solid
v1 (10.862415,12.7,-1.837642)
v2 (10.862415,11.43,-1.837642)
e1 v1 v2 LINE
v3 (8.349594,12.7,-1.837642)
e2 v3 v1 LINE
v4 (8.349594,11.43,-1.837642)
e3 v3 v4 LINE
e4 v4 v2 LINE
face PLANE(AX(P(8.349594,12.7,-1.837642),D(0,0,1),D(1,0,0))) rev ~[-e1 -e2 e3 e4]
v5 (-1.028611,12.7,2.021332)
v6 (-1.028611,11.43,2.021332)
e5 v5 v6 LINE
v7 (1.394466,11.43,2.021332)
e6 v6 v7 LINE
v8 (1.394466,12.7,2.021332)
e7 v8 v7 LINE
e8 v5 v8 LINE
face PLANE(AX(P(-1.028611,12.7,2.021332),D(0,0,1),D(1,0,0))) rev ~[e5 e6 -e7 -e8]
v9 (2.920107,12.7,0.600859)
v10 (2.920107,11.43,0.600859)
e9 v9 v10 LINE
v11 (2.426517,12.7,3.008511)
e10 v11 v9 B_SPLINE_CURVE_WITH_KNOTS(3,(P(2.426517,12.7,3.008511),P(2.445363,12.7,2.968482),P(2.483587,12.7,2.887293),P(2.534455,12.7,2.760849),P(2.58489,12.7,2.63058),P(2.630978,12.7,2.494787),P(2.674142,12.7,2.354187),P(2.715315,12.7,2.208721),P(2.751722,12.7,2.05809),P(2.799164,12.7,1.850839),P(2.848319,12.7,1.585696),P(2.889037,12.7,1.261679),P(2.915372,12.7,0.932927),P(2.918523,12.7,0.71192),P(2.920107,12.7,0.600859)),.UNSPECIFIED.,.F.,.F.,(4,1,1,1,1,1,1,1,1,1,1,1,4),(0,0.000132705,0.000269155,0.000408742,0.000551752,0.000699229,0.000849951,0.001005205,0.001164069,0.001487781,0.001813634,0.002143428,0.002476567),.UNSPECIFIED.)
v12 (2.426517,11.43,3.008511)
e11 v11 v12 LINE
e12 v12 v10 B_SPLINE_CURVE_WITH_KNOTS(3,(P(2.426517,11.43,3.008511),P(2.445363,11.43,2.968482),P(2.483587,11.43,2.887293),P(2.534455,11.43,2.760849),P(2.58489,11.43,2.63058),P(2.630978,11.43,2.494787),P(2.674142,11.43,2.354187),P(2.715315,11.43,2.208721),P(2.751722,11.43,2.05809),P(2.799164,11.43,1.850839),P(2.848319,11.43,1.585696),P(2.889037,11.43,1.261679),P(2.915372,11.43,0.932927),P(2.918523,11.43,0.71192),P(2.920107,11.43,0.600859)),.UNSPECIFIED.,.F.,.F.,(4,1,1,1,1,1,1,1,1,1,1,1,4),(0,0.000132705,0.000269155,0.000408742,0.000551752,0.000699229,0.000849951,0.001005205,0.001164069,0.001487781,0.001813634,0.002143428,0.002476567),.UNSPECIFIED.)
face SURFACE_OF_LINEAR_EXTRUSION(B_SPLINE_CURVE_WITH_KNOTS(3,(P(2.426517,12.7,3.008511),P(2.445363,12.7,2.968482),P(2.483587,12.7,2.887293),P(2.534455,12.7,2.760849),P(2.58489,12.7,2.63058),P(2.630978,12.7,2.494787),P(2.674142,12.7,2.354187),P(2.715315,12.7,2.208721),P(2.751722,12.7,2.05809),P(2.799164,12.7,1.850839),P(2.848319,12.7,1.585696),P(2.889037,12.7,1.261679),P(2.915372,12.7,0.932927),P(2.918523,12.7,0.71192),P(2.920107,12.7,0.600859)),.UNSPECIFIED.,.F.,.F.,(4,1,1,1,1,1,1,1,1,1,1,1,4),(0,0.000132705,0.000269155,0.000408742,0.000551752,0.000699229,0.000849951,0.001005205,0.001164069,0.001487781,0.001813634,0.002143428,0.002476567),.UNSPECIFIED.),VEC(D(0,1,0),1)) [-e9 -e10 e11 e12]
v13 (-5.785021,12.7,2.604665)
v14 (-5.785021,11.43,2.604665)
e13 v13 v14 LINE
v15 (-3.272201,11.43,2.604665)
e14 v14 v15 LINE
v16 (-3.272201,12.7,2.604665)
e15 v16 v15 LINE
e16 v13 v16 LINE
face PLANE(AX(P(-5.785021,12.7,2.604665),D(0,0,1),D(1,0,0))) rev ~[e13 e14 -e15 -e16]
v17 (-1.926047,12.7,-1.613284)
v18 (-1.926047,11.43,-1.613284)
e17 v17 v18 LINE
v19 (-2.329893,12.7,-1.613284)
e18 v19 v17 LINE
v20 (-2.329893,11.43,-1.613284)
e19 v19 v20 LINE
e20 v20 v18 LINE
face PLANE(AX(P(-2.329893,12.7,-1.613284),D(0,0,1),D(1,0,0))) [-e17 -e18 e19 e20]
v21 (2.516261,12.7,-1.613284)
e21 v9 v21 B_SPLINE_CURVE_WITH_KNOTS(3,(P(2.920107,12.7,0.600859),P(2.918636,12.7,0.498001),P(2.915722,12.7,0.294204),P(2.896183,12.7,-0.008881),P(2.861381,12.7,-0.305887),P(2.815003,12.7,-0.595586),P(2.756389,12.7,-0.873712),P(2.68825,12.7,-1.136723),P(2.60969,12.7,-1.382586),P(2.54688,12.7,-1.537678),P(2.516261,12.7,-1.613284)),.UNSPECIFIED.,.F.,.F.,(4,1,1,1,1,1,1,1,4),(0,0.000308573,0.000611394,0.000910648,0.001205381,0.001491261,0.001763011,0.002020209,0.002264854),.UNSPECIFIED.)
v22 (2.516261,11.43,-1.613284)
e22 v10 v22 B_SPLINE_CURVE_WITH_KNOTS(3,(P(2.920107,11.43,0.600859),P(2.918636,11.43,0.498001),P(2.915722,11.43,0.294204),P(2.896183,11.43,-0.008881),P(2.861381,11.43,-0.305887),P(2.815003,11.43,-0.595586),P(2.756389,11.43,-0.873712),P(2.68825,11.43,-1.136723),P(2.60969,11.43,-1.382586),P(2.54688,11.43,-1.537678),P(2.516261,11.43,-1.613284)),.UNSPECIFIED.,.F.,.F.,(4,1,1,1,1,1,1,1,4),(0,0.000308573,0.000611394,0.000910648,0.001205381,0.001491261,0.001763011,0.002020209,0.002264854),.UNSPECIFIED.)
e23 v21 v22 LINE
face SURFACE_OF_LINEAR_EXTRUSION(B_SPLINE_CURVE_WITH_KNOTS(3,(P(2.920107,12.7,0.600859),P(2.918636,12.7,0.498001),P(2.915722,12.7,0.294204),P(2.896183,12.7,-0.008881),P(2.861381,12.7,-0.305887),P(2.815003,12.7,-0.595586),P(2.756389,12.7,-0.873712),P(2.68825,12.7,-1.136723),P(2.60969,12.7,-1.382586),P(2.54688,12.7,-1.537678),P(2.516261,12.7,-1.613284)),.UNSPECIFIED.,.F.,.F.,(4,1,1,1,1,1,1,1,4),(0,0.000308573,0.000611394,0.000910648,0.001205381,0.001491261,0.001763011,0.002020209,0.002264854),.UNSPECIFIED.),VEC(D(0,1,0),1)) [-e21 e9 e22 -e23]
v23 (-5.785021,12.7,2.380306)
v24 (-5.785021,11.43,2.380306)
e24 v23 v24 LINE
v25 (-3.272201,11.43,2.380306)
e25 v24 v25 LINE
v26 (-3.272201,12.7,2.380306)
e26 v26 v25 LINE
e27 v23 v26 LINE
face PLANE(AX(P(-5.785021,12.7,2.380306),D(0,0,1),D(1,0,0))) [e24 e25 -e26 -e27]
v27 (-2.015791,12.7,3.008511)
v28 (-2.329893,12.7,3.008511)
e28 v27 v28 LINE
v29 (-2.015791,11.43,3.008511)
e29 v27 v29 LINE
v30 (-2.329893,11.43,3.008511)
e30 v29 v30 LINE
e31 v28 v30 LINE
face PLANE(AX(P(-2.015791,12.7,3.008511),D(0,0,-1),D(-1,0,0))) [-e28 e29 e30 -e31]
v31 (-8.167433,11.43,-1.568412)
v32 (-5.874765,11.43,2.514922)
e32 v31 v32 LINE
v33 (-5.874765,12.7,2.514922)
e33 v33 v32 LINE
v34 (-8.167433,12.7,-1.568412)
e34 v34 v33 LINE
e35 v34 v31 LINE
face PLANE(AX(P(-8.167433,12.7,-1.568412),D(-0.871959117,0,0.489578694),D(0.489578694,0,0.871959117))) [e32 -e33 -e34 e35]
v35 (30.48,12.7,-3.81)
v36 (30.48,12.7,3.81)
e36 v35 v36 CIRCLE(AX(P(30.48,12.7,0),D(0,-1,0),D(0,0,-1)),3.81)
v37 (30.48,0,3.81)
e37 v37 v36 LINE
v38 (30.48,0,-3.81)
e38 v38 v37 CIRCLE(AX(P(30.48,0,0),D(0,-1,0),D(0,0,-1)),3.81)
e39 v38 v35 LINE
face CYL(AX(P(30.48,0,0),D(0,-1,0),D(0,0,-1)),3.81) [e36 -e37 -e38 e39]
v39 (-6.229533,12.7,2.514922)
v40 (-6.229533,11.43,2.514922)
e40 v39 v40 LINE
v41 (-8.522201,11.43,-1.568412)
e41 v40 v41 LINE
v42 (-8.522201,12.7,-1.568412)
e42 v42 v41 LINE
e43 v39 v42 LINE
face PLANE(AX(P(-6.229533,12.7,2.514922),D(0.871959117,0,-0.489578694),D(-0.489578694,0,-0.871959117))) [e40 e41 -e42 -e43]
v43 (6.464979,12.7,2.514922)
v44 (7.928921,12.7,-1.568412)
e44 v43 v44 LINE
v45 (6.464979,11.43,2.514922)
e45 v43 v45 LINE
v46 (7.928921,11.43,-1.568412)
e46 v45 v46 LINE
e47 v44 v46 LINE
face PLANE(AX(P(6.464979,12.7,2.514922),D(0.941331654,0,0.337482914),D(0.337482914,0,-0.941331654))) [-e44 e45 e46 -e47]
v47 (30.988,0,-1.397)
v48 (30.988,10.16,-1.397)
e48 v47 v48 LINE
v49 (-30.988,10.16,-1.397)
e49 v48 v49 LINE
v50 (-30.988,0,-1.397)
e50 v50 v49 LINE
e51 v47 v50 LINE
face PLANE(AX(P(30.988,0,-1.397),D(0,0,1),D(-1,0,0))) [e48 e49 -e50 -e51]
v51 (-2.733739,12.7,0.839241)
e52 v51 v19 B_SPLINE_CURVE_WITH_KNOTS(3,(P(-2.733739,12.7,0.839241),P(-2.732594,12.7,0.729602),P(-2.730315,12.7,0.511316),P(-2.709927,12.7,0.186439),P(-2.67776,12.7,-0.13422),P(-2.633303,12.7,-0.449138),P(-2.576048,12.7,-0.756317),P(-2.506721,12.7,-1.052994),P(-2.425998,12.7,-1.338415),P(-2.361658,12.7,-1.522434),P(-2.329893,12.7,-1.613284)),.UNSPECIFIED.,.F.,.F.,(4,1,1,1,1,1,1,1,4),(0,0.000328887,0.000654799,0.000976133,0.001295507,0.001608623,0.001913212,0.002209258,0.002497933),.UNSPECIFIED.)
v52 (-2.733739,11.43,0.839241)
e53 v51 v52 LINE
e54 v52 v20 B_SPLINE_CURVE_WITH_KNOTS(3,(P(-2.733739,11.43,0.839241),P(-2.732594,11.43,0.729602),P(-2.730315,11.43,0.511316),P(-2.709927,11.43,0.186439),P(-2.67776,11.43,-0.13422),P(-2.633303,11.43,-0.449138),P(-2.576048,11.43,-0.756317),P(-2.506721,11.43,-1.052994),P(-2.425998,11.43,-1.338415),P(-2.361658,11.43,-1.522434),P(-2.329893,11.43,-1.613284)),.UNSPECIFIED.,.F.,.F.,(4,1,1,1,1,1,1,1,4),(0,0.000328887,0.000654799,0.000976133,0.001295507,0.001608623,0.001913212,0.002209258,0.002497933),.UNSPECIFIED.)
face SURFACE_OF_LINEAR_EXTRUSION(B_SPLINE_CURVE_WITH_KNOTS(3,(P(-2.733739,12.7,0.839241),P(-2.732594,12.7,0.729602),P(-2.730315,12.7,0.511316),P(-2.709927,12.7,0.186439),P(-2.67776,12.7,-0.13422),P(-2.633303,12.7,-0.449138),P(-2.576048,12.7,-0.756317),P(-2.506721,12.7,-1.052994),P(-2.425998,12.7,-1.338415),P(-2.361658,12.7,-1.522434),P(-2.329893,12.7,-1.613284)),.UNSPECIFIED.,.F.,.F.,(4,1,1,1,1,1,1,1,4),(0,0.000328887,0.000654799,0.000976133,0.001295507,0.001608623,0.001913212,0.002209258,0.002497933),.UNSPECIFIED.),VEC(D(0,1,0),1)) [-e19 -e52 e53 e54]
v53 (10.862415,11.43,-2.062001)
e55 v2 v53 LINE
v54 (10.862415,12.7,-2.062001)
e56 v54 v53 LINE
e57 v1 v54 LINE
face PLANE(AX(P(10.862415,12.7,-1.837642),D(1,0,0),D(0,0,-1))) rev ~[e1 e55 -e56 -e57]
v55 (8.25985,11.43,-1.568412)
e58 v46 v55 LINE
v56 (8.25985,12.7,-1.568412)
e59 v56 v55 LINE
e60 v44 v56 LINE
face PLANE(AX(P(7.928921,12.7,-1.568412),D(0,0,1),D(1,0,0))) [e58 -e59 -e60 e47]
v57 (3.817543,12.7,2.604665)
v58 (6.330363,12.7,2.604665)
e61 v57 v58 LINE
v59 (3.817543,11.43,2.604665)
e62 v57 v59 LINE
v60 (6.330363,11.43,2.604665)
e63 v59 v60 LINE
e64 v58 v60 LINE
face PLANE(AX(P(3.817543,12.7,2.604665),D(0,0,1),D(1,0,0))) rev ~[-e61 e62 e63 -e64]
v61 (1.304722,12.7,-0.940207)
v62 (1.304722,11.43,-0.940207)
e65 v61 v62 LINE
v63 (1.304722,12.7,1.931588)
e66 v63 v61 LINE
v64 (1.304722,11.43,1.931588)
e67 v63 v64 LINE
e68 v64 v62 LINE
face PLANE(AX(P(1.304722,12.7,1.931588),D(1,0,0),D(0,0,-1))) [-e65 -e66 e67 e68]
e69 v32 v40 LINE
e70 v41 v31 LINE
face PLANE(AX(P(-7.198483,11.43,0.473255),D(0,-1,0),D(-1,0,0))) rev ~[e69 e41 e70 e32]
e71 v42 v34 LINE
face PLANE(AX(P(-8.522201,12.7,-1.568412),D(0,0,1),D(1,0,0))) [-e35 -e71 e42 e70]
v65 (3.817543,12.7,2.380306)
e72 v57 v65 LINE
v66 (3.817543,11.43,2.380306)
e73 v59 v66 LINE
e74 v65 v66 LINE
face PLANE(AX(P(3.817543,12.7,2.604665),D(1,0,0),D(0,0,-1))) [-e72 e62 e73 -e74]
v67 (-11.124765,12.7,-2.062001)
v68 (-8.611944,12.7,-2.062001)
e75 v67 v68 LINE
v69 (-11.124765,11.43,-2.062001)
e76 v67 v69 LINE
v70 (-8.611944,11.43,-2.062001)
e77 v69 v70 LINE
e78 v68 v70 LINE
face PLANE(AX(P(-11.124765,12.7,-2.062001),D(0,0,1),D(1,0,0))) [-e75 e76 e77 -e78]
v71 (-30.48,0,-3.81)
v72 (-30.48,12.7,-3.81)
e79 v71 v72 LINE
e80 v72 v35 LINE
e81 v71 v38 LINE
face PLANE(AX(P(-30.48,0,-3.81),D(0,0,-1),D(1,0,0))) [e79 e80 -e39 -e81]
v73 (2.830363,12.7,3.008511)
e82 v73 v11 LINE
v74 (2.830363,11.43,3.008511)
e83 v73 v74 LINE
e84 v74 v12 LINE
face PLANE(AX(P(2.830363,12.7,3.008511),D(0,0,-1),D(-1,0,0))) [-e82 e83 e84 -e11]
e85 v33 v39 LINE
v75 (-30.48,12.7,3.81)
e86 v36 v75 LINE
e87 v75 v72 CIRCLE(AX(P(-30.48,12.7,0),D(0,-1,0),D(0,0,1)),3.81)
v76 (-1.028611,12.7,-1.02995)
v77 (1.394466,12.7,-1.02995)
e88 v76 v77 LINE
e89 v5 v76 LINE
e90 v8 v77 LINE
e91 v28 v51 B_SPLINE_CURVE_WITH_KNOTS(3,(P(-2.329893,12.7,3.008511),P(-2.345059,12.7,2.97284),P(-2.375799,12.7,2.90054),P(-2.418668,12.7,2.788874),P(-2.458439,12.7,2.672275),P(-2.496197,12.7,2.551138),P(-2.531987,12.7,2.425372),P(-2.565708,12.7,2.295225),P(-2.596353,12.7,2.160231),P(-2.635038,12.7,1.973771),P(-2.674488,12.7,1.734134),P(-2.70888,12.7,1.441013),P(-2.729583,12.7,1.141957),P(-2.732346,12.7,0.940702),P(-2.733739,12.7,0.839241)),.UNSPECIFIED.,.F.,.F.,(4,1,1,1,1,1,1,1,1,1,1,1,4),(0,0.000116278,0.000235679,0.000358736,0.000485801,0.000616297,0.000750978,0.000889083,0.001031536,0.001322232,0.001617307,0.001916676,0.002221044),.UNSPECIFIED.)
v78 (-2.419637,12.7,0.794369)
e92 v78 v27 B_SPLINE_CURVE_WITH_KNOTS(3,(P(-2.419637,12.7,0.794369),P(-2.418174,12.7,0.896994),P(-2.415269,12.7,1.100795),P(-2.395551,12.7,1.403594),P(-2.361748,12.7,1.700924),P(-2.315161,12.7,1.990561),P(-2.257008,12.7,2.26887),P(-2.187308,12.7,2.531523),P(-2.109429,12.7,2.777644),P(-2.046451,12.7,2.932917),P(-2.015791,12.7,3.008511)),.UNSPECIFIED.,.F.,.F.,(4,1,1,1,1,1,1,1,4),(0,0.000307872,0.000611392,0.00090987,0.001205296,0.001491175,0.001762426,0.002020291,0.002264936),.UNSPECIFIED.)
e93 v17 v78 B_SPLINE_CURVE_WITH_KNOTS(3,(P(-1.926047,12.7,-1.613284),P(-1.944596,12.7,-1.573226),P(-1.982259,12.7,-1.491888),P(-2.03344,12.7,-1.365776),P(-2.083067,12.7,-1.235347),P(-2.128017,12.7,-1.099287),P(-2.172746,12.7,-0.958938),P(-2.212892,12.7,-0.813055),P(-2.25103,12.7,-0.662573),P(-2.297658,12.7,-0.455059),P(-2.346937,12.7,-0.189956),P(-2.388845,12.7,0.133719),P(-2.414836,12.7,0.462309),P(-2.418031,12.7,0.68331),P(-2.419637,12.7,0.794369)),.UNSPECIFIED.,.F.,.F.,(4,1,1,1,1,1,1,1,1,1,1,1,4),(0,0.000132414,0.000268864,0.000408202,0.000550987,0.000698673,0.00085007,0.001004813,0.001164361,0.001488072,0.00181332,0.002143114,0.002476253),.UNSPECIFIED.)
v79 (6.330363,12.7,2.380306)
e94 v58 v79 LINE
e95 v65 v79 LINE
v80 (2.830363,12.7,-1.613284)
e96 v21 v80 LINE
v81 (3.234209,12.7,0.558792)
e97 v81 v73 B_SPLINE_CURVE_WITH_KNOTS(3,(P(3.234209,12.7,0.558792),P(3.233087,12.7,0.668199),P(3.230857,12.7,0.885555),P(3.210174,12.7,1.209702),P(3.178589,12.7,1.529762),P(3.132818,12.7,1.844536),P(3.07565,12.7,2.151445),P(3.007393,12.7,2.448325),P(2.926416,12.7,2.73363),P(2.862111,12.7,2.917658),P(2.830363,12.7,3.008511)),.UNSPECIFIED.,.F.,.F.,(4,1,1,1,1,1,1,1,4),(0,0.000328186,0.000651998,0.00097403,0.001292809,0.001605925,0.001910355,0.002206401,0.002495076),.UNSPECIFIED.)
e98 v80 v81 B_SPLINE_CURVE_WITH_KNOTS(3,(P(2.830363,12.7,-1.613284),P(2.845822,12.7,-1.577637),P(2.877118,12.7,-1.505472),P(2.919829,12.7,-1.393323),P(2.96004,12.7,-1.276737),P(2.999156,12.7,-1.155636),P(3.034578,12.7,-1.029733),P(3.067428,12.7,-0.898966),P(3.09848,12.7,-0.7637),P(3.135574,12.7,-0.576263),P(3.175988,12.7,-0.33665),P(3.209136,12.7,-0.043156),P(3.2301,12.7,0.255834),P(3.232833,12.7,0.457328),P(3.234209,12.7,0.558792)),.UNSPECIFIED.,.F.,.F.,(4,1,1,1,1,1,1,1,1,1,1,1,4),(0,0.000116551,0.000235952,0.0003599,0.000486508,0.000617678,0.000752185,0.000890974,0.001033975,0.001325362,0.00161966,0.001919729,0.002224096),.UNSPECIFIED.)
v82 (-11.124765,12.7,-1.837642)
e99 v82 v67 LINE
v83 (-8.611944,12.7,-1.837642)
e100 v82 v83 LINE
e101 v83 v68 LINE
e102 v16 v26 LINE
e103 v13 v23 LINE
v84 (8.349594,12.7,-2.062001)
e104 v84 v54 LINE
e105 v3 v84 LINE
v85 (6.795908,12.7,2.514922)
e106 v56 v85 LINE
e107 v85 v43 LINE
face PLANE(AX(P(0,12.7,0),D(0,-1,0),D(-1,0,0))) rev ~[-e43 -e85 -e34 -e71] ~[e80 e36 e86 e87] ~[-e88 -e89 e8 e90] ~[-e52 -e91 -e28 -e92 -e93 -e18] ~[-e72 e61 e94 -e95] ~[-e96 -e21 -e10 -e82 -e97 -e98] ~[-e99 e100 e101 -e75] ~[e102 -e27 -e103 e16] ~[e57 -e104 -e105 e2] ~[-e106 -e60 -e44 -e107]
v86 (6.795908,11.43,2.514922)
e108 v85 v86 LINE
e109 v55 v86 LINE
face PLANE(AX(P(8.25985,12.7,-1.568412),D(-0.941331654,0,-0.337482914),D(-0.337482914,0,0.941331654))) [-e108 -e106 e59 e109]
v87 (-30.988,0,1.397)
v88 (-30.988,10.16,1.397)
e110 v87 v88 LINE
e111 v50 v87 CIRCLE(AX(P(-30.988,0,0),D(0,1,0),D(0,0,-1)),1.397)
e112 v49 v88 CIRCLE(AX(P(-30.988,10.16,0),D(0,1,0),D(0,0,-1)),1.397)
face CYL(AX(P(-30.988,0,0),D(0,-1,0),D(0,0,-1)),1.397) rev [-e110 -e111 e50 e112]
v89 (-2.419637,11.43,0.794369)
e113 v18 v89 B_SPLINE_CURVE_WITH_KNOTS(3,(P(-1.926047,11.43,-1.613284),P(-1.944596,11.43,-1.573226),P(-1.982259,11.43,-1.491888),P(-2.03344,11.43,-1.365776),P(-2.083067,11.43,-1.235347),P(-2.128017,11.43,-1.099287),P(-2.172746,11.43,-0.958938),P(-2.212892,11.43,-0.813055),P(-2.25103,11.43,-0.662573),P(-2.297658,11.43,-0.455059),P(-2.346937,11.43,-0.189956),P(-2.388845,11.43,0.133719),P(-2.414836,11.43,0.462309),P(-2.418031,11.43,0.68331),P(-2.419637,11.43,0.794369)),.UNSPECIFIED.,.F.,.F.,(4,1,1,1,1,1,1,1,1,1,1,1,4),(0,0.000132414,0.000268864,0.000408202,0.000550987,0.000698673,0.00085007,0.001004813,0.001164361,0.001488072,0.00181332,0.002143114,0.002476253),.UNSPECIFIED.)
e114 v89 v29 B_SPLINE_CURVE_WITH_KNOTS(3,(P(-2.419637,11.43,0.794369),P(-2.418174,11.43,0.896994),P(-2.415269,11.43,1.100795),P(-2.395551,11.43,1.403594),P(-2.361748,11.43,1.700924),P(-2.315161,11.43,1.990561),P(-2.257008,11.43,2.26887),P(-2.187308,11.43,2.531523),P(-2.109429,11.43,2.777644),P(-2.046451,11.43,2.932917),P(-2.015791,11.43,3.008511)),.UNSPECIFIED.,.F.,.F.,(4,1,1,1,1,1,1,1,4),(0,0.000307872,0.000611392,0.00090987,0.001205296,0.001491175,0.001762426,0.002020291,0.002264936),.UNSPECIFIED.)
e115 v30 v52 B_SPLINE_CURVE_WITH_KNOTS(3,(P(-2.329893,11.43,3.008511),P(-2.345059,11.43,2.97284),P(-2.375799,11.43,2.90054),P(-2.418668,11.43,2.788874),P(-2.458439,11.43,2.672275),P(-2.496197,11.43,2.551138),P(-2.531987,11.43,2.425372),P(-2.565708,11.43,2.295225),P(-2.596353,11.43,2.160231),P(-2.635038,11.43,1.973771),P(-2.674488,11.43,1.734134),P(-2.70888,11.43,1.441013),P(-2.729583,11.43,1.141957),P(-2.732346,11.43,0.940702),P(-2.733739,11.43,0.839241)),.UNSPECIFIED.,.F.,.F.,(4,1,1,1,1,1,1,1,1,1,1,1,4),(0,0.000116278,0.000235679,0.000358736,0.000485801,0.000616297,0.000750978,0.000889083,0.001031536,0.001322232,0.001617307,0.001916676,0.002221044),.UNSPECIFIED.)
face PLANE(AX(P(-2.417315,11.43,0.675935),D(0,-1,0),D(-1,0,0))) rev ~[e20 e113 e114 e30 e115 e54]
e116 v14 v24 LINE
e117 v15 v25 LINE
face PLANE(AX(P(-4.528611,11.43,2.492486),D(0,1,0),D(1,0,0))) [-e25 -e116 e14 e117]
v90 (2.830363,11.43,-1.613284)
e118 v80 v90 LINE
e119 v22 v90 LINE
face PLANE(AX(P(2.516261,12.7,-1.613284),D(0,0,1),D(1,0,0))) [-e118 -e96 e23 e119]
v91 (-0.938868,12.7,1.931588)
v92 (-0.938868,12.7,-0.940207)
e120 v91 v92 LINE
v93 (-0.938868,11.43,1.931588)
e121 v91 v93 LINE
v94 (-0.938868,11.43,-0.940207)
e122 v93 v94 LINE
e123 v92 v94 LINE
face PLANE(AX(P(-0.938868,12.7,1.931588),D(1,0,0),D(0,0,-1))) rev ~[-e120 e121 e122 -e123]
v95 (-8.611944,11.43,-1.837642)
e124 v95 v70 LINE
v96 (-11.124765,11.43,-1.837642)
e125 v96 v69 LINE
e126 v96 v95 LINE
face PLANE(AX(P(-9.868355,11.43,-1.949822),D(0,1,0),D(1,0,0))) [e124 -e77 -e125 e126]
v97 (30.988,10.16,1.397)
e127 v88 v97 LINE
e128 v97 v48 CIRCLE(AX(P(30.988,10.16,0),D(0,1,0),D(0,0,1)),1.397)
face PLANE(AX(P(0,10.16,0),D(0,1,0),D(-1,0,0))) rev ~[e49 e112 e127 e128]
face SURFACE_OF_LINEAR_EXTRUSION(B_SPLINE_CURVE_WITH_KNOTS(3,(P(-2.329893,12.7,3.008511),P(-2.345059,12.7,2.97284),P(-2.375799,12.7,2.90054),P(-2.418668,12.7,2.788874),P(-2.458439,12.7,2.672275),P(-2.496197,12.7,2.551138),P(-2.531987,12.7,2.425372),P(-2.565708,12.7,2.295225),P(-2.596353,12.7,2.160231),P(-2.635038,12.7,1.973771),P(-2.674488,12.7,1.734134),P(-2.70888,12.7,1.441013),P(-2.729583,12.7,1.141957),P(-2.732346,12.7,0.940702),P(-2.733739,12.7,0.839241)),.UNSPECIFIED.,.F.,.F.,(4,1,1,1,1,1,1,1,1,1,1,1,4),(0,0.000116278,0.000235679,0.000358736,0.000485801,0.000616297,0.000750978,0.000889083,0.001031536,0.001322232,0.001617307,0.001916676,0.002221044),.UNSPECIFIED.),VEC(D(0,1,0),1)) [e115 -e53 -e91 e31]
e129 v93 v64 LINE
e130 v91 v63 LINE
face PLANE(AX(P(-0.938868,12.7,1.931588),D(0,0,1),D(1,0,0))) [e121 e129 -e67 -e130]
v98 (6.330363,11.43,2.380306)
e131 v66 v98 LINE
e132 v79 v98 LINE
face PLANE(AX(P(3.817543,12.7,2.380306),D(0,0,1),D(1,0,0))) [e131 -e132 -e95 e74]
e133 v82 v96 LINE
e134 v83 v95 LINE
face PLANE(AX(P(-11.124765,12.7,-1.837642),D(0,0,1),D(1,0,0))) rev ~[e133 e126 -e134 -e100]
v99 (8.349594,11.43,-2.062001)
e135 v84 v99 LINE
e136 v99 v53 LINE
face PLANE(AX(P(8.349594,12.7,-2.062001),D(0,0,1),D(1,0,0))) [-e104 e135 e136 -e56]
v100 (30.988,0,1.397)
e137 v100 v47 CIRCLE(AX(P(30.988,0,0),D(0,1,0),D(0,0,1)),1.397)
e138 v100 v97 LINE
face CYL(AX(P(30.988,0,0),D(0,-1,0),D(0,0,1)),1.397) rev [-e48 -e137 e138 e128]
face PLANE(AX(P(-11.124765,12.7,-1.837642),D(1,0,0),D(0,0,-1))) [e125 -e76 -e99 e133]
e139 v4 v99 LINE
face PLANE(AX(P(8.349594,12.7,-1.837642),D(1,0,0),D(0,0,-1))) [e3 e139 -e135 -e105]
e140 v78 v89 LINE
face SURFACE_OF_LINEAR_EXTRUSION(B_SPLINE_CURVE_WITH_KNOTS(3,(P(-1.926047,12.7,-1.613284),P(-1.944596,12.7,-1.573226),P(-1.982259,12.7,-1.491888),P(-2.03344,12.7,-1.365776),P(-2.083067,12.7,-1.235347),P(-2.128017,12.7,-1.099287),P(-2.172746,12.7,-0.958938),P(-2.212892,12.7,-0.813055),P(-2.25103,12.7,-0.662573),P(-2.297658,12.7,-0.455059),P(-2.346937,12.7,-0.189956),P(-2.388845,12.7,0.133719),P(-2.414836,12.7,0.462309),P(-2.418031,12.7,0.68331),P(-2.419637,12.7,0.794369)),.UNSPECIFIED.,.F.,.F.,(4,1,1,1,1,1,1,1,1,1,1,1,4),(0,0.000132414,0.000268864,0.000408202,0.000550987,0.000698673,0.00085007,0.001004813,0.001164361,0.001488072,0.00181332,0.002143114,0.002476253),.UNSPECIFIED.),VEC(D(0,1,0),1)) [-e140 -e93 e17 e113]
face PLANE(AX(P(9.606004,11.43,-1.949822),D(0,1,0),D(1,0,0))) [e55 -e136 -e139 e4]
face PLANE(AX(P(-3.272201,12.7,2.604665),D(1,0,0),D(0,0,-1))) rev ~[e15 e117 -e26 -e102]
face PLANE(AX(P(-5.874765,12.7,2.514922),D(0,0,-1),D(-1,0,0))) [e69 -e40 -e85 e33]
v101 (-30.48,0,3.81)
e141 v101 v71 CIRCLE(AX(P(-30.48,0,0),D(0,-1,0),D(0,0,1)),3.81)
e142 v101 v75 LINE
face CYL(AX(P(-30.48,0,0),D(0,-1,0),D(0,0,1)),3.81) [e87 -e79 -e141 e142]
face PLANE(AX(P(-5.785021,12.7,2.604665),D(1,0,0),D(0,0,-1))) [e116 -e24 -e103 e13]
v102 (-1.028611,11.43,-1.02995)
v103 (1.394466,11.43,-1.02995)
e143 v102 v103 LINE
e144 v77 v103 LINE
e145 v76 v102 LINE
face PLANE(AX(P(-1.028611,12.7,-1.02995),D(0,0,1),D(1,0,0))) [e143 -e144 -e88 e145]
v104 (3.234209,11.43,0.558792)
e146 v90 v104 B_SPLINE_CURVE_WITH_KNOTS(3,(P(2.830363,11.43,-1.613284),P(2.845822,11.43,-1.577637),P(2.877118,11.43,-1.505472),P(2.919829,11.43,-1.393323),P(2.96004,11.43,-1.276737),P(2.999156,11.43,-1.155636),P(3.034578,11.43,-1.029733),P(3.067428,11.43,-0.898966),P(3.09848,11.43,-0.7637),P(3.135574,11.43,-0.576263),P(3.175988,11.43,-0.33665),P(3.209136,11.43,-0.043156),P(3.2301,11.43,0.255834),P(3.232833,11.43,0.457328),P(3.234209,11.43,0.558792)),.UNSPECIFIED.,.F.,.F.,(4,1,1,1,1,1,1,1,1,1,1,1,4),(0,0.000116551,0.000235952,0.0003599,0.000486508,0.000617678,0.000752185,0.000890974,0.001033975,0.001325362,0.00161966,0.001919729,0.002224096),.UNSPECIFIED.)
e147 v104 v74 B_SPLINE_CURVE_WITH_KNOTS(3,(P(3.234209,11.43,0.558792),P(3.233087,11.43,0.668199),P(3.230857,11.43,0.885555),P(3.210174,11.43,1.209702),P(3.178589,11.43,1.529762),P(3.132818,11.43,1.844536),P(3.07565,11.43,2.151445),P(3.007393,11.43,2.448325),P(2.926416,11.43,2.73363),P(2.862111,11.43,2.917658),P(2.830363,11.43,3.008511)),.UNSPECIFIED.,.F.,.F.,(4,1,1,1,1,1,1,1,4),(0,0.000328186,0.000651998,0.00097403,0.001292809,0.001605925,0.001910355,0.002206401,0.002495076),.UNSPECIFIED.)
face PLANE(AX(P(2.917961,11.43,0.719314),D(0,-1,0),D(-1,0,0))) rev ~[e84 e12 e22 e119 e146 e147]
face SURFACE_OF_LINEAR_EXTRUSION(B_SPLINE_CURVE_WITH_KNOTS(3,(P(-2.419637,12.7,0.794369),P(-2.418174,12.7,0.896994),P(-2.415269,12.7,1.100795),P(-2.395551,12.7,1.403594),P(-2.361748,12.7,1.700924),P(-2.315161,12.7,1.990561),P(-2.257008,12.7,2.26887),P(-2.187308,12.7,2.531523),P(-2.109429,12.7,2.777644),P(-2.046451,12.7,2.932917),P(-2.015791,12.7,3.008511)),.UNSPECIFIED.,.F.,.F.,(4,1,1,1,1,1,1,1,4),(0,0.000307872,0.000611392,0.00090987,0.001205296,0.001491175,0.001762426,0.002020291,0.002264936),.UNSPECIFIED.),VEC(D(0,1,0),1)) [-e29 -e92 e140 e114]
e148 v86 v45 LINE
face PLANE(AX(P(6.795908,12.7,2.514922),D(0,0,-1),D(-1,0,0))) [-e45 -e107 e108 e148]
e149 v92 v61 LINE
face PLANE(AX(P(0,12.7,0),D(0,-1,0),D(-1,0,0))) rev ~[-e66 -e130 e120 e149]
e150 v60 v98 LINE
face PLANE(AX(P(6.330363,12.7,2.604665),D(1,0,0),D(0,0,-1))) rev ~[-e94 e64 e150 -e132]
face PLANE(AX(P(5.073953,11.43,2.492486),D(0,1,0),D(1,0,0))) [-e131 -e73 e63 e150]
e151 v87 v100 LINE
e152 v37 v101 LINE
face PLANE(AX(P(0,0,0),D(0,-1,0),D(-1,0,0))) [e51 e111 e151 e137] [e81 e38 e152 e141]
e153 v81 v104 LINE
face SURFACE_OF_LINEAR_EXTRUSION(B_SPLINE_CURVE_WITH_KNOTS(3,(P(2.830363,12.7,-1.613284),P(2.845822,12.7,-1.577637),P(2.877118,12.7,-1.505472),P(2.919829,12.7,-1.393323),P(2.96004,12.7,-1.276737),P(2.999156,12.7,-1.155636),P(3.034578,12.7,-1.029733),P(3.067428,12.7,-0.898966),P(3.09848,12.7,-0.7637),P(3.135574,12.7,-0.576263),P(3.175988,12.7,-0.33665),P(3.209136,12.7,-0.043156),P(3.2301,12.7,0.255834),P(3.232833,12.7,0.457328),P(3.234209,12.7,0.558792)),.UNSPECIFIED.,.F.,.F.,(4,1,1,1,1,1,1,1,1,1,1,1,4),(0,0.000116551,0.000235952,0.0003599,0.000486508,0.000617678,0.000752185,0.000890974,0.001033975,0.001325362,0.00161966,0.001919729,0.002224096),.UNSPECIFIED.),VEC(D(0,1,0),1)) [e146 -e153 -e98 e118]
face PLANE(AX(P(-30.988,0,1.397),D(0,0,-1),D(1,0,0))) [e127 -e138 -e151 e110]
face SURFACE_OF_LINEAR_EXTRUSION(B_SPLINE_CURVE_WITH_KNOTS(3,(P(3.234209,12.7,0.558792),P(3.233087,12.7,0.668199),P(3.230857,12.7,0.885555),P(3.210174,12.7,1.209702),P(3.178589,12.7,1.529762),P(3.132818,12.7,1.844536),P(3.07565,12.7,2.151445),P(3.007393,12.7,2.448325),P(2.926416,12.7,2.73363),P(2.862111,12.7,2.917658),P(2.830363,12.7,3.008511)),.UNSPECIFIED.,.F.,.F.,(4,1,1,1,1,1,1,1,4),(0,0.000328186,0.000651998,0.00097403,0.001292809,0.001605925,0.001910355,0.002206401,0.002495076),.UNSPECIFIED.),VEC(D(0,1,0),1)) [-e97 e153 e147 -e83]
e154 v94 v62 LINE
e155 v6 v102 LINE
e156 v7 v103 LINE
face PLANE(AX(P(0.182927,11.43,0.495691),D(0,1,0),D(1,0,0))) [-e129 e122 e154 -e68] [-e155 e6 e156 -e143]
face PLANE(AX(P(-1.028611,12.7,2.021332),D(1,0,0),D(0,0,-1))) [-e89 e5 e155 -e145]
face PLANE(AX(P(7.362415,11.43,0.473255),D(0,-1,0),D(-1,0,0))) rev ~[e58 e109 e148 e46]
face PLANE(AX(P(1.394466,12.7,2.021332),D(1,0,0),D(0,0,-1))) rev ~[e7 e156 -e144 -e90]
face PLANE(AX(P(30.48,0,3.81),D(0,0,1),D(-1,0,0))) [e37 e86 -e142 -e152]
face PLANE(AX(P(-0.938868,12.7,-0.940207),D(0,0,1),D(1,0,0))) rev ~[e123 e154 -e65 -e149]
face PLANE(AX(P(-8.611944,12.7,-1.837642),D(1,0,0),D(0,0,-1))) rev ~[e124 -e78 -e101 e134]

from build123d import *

# Parameters (mm, degrees)
BOSS_EXTRUDE1_DEPTH = 12.7
CUT_EXTRUDE1_DEPTH  = 10.16
SKETCH3_W           = 2.512820512
SKETCH3_H           = 0.224358975
SKETCH3_W_2         = 2.512820513
SKETCH3_H_2         = 0.224358974
SKETCH3_W_3         = 2.423076923
SKETCH3_H_3         = 3.051282052
SKETCH3_W_4         = 2.243589743
SKETCH3_H_4         = 2.871794872
CUT_EXTRUDE2_DEPTH  = 1.27


with BuildPart() as part:
    # Sketch1 → Boss-Extrude1 (new body)
    with BuildSketch(Plane(origin=(0, 0, 0), x_dir=(1, 0, 0), z_dir=(0, 1, 0))):
        with BuildLine():
            Line((-30.48, 3.81), (30.48, 3.81))
            ThreePointArc((30.48, 3.81), (34.29, 0), (30.48, -3.81))
            Line((30.48, -3.81), (-30.48, -3.81))
            ThreePointArc((-30.48, -3.81), (-34.29, 0), (-30.48, 3.81))
        make_face()
    extrude(amount=BOSS_EXTRUDE1_DEPTH)

    # Sketch2 → Cut-Extrude1 (cut)
    with BuildSketch(Plane.XZ):
        with BuildLine():
            Line((-30.988, 1.397), (30.988, 1.397))
            ThreePointArc((30.988, 1.397), (32.385, 0), (30.988, -1.397))
            Line((30.988, -1.397), (-30.988, -1.397))
            ThreePointArc((-30.988, -1.397), (-32.385, 0), (-30.988, 1.397))
        make_face()
    extrude(amount=-CUT_EXTRUDE1_DEPTH, mode=Mode.SUBTRACT)

    # Sketch3 → Cut-Extrude2 (cut)
    with BuildSketch(Plane(origin=(0, 12.7, 0), x_dir=(1, 0, 0), z_dir=(0, 1, 0))):
        with Locations((-9.868354695, 1.949821987)):
            Rectangle(SKETCH3_W, SKETCH3_H)
        Polygon((-8.167433221, 1.56841173), (-5.874764951, -2.514921603), (-6.22953258, -2.514921603), (-8.522200849, 1.56841173), align=None)
        with Locations((-4.528611106, -2.492485706)):
            Rectangle(SKETCH3_W_2, SKETCH3_H_2)
        with BuildLine():
            Line((-2.329893156, 1.613283525), (-1.926047003, 1.613283525))
            add(Edge.make_bspline(
                [(-1.926047003, 1.613283525), (-1.944595679, 1.573225506), (-1.982258533, 1.491888205), (-2.033440085, 1.365776004), (-2.08306669, 1.235347225), (-2.128016891, 1.099286858), (-2.172746394, 0.958938117), (-2.212892282, 0.813055443), (-2.251030023, 0.662573196), (-2.297658473, 0.455059227), (-2.346937221, 0.189956446), (-2.388844661, -0.13371939), (-2.414835709, -0.462309009), (-2.418031025, -0.683310365), (-2.419636746, -0.794368719)],
                knots=[0, 0, 0, 0, 0.000132414, 0.000268864, 0.000408202, 0.000550987, 0.000698673, 0.00085007, 0.001004813, 0.001164361, 0.001488072, 0.00181332, 0.002143114, 0.002476253, 0.002476253, 0.002476253, 0.002476253], degree=3))
            add(Edge.make_bspline(
                [(-2.419636746, -0.794368719), (-2.418174092, -0.896994356), (-2.415269461, -1.100794888), (-2.39555112, -1.403593934), (-2.361748279, -1.700924317), (-2.315161311, -1.990560634), (-2.257008203, -2.26887028), (-2.187308319, -2.531522985), (-2.109429056, -2.777644099), (-2.046451105, -2.932917324), (-2.015790592, -3.008511347)],
                knots=[0, 0, 0, 0, 0.000307872, 0.000611392, 0.00090987, 0.001205296, 0.001491175, 0.001762426, 0.002020291, 0.002264936, 0.002264936, 0.002264936, 0.002264936], degree=3))
            Line((-2.015790592, -3.008511347), (-2.329893156, -3.008511347))
            add(Edge.make_bspline(
                [(-2.329893156, -3.008511347), (-2.345059433, -2.972840264), (-2.375799242, -2.900540233), (-2.418668441, -2.788874123), (-2.458438817, -2.672275035), (-2.496197017, -2.551137941), (-2.531986826, -2.425372334), (-2.565708096, -2.295224557), (-2.596352522, -2.160231418), (-2.635037976, -1.973771045), (-2.674487586, -1.734133797), (-2.708879678, -1.441012576), (-2.729583163, -1.141957485), (-2.732346302, -0.940701584), (-2.73373931, -0.839240513)],
                knots=[0, 0, 0, 0, 0.000116278, 0.000235679, 0.000358736, 0.000485801, 0.000616297, 0.000750978, 0.000889083, 0.001031536, 0.001322232, 0.001617307, 0.001916676, 0.002221044, 0.002221044, 0.002221044, 0.002221044], degree=3))
            add(Edge.make_bspline(
                [(-2.73373931, -0.839240513), (-2.732594304, -0.729601973), (-2.730314646, -0.511316432), (-2.709927037, -0.186438945), (-2.67775989, 0.134220277), (-2.63330287, 0.449137671), (-2.576047932, 0.75631684), (-2.506720854, 1.052993625), (-2.425998034, 1.33841465), (-2.36165775, 1.522433838), (-2.329893156, 1.613283525)],
                knots=[0, 0, 0, 0, 0.000328887, 0.000654799, 0.000976133, 0.001295507, 0.001608623, 0.001913212, 0.002209258, 0.002497933, 0.002497933, 0.002497933, 0.002497933], degree=3))
        make_face()
        with Locations((0.182927357, -0.495690834)):
            Rectangle(SKETCH3_W_3, SKETCH3_H_3)
        with Locations((0.182927357, -0.495690834)):
            Rectangle(SKETCH3_W_4, SKETCH3_H_4, mode=Mode.SUBTRACT)
        with BuildLine():
            Line((2.830363254, -3.008511347), (2.4265171, -3.008511347))
            add(Edge.make_bspline(
                [(2.4265171, -3.008511347), (2.445363004, -2.968481706), (2.483586773, -2.887292514), (2.534455272, -2.76084909), (2.584889971, -2.630579527), (2.630978179, -2.494786752), (2.674142382, -2.354187151), (2.715314887, -2.208721317), (2.751721509, -2.058090142), (2.799164465, -1.850839452), (2.848318586, -1.585696239), (2.889036553, -1.261679417), (2.915372484, -0.932926529), (2.918523423, -0.711920038), (2.920106844, -0.600859103)],
                knots=[0, 0, 0, 0, 0.000132705, 0.000269155, 0.000408742, 0.000551752, 0.000699229, 0.000849951, 0.001005205, 0.001164069, 0.001487781, 0.001813634, 0.002143428, 0.002476567, 0.002476567, 0.002476567, 0.002476567], degree=3))
            add(Edge.make_bspline(
                [(2.920106844, -0.600859103), (2.918636197, -0.498001444), (2.91572232, -0.294203706), (2.896183473, 0.008881128), (2.861380724, 0.305887024), (2.815003035, 0.595585979), (2.756388988, 0.873712258), (2.688249953, 1.13672272), (2.609689621, 1.382585825), (2.546879933, 1.537677511), (2.51626069, 1.613283525)],
                knots=[0, 0, 0, 0, 0.000308573, 0.000611394, 0.000910648, 0.001205381, 0.001491261, 0.001763011, 0.002020209, 0.002264854, 0.002264854, 0.002264854, 0.002264854], degree=3))
            Line((2.51626069, 1.613283525), (2.830363254, 1.613283525))
            add(Edge.make_bspline(
                [(2.830363254, 1.613283525), (2.845822151, 1.577637011), (2.877117965, 1.505472313), (2.919829121, 1.393322705), (2.960040307, 1.276737462), (2.999155723, 1.155636367), (3.034577994, 1.029732856), (3.067427606, 0.898965664), (3.098479857, 0.763700098), (3.135574411, 0.576263016), (3.175988281, 0.336649903), (3.209135848, 0.043155631), (3.230099589, -0.255833632), (3.232832988, -0.457328041), (3.234209408, -0.558791796)],
                knots=[0, 0, 0, 0, 0.000116551, 0.000235952, 0.0003599, 0.000486508, 0.000617678, 0.000752185, 0.000890974, 0.001033975, 0.001325362, 0.00161966, 0.001919729, 0.002224096, 0.002224096, 0.002224096, 0.002224096], degree=3))
            add(Edge.make_bspline(
                [(3.234209408, -0.558791796), (3.233086955, -0.66819864), (3.230857007, -0.885554545), (3.210174372, -1.209702469), (3.178588831, -1.529761994), (3.132817504, -1.84453593), (3.075650132, -2.151444658), (3.007392512, -2.448324515), (2.926416312, -2.733629989), (2.86211072, -2.917657534), (2.830363254, -3.008511347)],
                knots=[0, 0, 0, 0, 0.000328186, 0.000651998, 0.00097403, 0.001292809, 0.001605925, 0.001910355, 0.002206401, 0.002495076, 0.002495076, 0.002495076, 0.002495076], degree=3))
        make_face()
        with Locations((5.073952998, -2.492485706)):
            Rectangle(SKETCH3_W_2, SKETCH3_H_2)
        Polygon((8.259850433, 1.56841173), (6.795908126, -2.514921603), (6.464978638, -2.514921603), (7.928920946, 1.56841173), align=None)
        with Locations((9.60600428, 1.949821987)):
            Rectangle(SKETCH3_W_2, SKETCH3_H)
    extrude(amount=-CUT_EXTRUDE2_DEPTH, mode=Mode.SUBTRACT)


solid = part.part
